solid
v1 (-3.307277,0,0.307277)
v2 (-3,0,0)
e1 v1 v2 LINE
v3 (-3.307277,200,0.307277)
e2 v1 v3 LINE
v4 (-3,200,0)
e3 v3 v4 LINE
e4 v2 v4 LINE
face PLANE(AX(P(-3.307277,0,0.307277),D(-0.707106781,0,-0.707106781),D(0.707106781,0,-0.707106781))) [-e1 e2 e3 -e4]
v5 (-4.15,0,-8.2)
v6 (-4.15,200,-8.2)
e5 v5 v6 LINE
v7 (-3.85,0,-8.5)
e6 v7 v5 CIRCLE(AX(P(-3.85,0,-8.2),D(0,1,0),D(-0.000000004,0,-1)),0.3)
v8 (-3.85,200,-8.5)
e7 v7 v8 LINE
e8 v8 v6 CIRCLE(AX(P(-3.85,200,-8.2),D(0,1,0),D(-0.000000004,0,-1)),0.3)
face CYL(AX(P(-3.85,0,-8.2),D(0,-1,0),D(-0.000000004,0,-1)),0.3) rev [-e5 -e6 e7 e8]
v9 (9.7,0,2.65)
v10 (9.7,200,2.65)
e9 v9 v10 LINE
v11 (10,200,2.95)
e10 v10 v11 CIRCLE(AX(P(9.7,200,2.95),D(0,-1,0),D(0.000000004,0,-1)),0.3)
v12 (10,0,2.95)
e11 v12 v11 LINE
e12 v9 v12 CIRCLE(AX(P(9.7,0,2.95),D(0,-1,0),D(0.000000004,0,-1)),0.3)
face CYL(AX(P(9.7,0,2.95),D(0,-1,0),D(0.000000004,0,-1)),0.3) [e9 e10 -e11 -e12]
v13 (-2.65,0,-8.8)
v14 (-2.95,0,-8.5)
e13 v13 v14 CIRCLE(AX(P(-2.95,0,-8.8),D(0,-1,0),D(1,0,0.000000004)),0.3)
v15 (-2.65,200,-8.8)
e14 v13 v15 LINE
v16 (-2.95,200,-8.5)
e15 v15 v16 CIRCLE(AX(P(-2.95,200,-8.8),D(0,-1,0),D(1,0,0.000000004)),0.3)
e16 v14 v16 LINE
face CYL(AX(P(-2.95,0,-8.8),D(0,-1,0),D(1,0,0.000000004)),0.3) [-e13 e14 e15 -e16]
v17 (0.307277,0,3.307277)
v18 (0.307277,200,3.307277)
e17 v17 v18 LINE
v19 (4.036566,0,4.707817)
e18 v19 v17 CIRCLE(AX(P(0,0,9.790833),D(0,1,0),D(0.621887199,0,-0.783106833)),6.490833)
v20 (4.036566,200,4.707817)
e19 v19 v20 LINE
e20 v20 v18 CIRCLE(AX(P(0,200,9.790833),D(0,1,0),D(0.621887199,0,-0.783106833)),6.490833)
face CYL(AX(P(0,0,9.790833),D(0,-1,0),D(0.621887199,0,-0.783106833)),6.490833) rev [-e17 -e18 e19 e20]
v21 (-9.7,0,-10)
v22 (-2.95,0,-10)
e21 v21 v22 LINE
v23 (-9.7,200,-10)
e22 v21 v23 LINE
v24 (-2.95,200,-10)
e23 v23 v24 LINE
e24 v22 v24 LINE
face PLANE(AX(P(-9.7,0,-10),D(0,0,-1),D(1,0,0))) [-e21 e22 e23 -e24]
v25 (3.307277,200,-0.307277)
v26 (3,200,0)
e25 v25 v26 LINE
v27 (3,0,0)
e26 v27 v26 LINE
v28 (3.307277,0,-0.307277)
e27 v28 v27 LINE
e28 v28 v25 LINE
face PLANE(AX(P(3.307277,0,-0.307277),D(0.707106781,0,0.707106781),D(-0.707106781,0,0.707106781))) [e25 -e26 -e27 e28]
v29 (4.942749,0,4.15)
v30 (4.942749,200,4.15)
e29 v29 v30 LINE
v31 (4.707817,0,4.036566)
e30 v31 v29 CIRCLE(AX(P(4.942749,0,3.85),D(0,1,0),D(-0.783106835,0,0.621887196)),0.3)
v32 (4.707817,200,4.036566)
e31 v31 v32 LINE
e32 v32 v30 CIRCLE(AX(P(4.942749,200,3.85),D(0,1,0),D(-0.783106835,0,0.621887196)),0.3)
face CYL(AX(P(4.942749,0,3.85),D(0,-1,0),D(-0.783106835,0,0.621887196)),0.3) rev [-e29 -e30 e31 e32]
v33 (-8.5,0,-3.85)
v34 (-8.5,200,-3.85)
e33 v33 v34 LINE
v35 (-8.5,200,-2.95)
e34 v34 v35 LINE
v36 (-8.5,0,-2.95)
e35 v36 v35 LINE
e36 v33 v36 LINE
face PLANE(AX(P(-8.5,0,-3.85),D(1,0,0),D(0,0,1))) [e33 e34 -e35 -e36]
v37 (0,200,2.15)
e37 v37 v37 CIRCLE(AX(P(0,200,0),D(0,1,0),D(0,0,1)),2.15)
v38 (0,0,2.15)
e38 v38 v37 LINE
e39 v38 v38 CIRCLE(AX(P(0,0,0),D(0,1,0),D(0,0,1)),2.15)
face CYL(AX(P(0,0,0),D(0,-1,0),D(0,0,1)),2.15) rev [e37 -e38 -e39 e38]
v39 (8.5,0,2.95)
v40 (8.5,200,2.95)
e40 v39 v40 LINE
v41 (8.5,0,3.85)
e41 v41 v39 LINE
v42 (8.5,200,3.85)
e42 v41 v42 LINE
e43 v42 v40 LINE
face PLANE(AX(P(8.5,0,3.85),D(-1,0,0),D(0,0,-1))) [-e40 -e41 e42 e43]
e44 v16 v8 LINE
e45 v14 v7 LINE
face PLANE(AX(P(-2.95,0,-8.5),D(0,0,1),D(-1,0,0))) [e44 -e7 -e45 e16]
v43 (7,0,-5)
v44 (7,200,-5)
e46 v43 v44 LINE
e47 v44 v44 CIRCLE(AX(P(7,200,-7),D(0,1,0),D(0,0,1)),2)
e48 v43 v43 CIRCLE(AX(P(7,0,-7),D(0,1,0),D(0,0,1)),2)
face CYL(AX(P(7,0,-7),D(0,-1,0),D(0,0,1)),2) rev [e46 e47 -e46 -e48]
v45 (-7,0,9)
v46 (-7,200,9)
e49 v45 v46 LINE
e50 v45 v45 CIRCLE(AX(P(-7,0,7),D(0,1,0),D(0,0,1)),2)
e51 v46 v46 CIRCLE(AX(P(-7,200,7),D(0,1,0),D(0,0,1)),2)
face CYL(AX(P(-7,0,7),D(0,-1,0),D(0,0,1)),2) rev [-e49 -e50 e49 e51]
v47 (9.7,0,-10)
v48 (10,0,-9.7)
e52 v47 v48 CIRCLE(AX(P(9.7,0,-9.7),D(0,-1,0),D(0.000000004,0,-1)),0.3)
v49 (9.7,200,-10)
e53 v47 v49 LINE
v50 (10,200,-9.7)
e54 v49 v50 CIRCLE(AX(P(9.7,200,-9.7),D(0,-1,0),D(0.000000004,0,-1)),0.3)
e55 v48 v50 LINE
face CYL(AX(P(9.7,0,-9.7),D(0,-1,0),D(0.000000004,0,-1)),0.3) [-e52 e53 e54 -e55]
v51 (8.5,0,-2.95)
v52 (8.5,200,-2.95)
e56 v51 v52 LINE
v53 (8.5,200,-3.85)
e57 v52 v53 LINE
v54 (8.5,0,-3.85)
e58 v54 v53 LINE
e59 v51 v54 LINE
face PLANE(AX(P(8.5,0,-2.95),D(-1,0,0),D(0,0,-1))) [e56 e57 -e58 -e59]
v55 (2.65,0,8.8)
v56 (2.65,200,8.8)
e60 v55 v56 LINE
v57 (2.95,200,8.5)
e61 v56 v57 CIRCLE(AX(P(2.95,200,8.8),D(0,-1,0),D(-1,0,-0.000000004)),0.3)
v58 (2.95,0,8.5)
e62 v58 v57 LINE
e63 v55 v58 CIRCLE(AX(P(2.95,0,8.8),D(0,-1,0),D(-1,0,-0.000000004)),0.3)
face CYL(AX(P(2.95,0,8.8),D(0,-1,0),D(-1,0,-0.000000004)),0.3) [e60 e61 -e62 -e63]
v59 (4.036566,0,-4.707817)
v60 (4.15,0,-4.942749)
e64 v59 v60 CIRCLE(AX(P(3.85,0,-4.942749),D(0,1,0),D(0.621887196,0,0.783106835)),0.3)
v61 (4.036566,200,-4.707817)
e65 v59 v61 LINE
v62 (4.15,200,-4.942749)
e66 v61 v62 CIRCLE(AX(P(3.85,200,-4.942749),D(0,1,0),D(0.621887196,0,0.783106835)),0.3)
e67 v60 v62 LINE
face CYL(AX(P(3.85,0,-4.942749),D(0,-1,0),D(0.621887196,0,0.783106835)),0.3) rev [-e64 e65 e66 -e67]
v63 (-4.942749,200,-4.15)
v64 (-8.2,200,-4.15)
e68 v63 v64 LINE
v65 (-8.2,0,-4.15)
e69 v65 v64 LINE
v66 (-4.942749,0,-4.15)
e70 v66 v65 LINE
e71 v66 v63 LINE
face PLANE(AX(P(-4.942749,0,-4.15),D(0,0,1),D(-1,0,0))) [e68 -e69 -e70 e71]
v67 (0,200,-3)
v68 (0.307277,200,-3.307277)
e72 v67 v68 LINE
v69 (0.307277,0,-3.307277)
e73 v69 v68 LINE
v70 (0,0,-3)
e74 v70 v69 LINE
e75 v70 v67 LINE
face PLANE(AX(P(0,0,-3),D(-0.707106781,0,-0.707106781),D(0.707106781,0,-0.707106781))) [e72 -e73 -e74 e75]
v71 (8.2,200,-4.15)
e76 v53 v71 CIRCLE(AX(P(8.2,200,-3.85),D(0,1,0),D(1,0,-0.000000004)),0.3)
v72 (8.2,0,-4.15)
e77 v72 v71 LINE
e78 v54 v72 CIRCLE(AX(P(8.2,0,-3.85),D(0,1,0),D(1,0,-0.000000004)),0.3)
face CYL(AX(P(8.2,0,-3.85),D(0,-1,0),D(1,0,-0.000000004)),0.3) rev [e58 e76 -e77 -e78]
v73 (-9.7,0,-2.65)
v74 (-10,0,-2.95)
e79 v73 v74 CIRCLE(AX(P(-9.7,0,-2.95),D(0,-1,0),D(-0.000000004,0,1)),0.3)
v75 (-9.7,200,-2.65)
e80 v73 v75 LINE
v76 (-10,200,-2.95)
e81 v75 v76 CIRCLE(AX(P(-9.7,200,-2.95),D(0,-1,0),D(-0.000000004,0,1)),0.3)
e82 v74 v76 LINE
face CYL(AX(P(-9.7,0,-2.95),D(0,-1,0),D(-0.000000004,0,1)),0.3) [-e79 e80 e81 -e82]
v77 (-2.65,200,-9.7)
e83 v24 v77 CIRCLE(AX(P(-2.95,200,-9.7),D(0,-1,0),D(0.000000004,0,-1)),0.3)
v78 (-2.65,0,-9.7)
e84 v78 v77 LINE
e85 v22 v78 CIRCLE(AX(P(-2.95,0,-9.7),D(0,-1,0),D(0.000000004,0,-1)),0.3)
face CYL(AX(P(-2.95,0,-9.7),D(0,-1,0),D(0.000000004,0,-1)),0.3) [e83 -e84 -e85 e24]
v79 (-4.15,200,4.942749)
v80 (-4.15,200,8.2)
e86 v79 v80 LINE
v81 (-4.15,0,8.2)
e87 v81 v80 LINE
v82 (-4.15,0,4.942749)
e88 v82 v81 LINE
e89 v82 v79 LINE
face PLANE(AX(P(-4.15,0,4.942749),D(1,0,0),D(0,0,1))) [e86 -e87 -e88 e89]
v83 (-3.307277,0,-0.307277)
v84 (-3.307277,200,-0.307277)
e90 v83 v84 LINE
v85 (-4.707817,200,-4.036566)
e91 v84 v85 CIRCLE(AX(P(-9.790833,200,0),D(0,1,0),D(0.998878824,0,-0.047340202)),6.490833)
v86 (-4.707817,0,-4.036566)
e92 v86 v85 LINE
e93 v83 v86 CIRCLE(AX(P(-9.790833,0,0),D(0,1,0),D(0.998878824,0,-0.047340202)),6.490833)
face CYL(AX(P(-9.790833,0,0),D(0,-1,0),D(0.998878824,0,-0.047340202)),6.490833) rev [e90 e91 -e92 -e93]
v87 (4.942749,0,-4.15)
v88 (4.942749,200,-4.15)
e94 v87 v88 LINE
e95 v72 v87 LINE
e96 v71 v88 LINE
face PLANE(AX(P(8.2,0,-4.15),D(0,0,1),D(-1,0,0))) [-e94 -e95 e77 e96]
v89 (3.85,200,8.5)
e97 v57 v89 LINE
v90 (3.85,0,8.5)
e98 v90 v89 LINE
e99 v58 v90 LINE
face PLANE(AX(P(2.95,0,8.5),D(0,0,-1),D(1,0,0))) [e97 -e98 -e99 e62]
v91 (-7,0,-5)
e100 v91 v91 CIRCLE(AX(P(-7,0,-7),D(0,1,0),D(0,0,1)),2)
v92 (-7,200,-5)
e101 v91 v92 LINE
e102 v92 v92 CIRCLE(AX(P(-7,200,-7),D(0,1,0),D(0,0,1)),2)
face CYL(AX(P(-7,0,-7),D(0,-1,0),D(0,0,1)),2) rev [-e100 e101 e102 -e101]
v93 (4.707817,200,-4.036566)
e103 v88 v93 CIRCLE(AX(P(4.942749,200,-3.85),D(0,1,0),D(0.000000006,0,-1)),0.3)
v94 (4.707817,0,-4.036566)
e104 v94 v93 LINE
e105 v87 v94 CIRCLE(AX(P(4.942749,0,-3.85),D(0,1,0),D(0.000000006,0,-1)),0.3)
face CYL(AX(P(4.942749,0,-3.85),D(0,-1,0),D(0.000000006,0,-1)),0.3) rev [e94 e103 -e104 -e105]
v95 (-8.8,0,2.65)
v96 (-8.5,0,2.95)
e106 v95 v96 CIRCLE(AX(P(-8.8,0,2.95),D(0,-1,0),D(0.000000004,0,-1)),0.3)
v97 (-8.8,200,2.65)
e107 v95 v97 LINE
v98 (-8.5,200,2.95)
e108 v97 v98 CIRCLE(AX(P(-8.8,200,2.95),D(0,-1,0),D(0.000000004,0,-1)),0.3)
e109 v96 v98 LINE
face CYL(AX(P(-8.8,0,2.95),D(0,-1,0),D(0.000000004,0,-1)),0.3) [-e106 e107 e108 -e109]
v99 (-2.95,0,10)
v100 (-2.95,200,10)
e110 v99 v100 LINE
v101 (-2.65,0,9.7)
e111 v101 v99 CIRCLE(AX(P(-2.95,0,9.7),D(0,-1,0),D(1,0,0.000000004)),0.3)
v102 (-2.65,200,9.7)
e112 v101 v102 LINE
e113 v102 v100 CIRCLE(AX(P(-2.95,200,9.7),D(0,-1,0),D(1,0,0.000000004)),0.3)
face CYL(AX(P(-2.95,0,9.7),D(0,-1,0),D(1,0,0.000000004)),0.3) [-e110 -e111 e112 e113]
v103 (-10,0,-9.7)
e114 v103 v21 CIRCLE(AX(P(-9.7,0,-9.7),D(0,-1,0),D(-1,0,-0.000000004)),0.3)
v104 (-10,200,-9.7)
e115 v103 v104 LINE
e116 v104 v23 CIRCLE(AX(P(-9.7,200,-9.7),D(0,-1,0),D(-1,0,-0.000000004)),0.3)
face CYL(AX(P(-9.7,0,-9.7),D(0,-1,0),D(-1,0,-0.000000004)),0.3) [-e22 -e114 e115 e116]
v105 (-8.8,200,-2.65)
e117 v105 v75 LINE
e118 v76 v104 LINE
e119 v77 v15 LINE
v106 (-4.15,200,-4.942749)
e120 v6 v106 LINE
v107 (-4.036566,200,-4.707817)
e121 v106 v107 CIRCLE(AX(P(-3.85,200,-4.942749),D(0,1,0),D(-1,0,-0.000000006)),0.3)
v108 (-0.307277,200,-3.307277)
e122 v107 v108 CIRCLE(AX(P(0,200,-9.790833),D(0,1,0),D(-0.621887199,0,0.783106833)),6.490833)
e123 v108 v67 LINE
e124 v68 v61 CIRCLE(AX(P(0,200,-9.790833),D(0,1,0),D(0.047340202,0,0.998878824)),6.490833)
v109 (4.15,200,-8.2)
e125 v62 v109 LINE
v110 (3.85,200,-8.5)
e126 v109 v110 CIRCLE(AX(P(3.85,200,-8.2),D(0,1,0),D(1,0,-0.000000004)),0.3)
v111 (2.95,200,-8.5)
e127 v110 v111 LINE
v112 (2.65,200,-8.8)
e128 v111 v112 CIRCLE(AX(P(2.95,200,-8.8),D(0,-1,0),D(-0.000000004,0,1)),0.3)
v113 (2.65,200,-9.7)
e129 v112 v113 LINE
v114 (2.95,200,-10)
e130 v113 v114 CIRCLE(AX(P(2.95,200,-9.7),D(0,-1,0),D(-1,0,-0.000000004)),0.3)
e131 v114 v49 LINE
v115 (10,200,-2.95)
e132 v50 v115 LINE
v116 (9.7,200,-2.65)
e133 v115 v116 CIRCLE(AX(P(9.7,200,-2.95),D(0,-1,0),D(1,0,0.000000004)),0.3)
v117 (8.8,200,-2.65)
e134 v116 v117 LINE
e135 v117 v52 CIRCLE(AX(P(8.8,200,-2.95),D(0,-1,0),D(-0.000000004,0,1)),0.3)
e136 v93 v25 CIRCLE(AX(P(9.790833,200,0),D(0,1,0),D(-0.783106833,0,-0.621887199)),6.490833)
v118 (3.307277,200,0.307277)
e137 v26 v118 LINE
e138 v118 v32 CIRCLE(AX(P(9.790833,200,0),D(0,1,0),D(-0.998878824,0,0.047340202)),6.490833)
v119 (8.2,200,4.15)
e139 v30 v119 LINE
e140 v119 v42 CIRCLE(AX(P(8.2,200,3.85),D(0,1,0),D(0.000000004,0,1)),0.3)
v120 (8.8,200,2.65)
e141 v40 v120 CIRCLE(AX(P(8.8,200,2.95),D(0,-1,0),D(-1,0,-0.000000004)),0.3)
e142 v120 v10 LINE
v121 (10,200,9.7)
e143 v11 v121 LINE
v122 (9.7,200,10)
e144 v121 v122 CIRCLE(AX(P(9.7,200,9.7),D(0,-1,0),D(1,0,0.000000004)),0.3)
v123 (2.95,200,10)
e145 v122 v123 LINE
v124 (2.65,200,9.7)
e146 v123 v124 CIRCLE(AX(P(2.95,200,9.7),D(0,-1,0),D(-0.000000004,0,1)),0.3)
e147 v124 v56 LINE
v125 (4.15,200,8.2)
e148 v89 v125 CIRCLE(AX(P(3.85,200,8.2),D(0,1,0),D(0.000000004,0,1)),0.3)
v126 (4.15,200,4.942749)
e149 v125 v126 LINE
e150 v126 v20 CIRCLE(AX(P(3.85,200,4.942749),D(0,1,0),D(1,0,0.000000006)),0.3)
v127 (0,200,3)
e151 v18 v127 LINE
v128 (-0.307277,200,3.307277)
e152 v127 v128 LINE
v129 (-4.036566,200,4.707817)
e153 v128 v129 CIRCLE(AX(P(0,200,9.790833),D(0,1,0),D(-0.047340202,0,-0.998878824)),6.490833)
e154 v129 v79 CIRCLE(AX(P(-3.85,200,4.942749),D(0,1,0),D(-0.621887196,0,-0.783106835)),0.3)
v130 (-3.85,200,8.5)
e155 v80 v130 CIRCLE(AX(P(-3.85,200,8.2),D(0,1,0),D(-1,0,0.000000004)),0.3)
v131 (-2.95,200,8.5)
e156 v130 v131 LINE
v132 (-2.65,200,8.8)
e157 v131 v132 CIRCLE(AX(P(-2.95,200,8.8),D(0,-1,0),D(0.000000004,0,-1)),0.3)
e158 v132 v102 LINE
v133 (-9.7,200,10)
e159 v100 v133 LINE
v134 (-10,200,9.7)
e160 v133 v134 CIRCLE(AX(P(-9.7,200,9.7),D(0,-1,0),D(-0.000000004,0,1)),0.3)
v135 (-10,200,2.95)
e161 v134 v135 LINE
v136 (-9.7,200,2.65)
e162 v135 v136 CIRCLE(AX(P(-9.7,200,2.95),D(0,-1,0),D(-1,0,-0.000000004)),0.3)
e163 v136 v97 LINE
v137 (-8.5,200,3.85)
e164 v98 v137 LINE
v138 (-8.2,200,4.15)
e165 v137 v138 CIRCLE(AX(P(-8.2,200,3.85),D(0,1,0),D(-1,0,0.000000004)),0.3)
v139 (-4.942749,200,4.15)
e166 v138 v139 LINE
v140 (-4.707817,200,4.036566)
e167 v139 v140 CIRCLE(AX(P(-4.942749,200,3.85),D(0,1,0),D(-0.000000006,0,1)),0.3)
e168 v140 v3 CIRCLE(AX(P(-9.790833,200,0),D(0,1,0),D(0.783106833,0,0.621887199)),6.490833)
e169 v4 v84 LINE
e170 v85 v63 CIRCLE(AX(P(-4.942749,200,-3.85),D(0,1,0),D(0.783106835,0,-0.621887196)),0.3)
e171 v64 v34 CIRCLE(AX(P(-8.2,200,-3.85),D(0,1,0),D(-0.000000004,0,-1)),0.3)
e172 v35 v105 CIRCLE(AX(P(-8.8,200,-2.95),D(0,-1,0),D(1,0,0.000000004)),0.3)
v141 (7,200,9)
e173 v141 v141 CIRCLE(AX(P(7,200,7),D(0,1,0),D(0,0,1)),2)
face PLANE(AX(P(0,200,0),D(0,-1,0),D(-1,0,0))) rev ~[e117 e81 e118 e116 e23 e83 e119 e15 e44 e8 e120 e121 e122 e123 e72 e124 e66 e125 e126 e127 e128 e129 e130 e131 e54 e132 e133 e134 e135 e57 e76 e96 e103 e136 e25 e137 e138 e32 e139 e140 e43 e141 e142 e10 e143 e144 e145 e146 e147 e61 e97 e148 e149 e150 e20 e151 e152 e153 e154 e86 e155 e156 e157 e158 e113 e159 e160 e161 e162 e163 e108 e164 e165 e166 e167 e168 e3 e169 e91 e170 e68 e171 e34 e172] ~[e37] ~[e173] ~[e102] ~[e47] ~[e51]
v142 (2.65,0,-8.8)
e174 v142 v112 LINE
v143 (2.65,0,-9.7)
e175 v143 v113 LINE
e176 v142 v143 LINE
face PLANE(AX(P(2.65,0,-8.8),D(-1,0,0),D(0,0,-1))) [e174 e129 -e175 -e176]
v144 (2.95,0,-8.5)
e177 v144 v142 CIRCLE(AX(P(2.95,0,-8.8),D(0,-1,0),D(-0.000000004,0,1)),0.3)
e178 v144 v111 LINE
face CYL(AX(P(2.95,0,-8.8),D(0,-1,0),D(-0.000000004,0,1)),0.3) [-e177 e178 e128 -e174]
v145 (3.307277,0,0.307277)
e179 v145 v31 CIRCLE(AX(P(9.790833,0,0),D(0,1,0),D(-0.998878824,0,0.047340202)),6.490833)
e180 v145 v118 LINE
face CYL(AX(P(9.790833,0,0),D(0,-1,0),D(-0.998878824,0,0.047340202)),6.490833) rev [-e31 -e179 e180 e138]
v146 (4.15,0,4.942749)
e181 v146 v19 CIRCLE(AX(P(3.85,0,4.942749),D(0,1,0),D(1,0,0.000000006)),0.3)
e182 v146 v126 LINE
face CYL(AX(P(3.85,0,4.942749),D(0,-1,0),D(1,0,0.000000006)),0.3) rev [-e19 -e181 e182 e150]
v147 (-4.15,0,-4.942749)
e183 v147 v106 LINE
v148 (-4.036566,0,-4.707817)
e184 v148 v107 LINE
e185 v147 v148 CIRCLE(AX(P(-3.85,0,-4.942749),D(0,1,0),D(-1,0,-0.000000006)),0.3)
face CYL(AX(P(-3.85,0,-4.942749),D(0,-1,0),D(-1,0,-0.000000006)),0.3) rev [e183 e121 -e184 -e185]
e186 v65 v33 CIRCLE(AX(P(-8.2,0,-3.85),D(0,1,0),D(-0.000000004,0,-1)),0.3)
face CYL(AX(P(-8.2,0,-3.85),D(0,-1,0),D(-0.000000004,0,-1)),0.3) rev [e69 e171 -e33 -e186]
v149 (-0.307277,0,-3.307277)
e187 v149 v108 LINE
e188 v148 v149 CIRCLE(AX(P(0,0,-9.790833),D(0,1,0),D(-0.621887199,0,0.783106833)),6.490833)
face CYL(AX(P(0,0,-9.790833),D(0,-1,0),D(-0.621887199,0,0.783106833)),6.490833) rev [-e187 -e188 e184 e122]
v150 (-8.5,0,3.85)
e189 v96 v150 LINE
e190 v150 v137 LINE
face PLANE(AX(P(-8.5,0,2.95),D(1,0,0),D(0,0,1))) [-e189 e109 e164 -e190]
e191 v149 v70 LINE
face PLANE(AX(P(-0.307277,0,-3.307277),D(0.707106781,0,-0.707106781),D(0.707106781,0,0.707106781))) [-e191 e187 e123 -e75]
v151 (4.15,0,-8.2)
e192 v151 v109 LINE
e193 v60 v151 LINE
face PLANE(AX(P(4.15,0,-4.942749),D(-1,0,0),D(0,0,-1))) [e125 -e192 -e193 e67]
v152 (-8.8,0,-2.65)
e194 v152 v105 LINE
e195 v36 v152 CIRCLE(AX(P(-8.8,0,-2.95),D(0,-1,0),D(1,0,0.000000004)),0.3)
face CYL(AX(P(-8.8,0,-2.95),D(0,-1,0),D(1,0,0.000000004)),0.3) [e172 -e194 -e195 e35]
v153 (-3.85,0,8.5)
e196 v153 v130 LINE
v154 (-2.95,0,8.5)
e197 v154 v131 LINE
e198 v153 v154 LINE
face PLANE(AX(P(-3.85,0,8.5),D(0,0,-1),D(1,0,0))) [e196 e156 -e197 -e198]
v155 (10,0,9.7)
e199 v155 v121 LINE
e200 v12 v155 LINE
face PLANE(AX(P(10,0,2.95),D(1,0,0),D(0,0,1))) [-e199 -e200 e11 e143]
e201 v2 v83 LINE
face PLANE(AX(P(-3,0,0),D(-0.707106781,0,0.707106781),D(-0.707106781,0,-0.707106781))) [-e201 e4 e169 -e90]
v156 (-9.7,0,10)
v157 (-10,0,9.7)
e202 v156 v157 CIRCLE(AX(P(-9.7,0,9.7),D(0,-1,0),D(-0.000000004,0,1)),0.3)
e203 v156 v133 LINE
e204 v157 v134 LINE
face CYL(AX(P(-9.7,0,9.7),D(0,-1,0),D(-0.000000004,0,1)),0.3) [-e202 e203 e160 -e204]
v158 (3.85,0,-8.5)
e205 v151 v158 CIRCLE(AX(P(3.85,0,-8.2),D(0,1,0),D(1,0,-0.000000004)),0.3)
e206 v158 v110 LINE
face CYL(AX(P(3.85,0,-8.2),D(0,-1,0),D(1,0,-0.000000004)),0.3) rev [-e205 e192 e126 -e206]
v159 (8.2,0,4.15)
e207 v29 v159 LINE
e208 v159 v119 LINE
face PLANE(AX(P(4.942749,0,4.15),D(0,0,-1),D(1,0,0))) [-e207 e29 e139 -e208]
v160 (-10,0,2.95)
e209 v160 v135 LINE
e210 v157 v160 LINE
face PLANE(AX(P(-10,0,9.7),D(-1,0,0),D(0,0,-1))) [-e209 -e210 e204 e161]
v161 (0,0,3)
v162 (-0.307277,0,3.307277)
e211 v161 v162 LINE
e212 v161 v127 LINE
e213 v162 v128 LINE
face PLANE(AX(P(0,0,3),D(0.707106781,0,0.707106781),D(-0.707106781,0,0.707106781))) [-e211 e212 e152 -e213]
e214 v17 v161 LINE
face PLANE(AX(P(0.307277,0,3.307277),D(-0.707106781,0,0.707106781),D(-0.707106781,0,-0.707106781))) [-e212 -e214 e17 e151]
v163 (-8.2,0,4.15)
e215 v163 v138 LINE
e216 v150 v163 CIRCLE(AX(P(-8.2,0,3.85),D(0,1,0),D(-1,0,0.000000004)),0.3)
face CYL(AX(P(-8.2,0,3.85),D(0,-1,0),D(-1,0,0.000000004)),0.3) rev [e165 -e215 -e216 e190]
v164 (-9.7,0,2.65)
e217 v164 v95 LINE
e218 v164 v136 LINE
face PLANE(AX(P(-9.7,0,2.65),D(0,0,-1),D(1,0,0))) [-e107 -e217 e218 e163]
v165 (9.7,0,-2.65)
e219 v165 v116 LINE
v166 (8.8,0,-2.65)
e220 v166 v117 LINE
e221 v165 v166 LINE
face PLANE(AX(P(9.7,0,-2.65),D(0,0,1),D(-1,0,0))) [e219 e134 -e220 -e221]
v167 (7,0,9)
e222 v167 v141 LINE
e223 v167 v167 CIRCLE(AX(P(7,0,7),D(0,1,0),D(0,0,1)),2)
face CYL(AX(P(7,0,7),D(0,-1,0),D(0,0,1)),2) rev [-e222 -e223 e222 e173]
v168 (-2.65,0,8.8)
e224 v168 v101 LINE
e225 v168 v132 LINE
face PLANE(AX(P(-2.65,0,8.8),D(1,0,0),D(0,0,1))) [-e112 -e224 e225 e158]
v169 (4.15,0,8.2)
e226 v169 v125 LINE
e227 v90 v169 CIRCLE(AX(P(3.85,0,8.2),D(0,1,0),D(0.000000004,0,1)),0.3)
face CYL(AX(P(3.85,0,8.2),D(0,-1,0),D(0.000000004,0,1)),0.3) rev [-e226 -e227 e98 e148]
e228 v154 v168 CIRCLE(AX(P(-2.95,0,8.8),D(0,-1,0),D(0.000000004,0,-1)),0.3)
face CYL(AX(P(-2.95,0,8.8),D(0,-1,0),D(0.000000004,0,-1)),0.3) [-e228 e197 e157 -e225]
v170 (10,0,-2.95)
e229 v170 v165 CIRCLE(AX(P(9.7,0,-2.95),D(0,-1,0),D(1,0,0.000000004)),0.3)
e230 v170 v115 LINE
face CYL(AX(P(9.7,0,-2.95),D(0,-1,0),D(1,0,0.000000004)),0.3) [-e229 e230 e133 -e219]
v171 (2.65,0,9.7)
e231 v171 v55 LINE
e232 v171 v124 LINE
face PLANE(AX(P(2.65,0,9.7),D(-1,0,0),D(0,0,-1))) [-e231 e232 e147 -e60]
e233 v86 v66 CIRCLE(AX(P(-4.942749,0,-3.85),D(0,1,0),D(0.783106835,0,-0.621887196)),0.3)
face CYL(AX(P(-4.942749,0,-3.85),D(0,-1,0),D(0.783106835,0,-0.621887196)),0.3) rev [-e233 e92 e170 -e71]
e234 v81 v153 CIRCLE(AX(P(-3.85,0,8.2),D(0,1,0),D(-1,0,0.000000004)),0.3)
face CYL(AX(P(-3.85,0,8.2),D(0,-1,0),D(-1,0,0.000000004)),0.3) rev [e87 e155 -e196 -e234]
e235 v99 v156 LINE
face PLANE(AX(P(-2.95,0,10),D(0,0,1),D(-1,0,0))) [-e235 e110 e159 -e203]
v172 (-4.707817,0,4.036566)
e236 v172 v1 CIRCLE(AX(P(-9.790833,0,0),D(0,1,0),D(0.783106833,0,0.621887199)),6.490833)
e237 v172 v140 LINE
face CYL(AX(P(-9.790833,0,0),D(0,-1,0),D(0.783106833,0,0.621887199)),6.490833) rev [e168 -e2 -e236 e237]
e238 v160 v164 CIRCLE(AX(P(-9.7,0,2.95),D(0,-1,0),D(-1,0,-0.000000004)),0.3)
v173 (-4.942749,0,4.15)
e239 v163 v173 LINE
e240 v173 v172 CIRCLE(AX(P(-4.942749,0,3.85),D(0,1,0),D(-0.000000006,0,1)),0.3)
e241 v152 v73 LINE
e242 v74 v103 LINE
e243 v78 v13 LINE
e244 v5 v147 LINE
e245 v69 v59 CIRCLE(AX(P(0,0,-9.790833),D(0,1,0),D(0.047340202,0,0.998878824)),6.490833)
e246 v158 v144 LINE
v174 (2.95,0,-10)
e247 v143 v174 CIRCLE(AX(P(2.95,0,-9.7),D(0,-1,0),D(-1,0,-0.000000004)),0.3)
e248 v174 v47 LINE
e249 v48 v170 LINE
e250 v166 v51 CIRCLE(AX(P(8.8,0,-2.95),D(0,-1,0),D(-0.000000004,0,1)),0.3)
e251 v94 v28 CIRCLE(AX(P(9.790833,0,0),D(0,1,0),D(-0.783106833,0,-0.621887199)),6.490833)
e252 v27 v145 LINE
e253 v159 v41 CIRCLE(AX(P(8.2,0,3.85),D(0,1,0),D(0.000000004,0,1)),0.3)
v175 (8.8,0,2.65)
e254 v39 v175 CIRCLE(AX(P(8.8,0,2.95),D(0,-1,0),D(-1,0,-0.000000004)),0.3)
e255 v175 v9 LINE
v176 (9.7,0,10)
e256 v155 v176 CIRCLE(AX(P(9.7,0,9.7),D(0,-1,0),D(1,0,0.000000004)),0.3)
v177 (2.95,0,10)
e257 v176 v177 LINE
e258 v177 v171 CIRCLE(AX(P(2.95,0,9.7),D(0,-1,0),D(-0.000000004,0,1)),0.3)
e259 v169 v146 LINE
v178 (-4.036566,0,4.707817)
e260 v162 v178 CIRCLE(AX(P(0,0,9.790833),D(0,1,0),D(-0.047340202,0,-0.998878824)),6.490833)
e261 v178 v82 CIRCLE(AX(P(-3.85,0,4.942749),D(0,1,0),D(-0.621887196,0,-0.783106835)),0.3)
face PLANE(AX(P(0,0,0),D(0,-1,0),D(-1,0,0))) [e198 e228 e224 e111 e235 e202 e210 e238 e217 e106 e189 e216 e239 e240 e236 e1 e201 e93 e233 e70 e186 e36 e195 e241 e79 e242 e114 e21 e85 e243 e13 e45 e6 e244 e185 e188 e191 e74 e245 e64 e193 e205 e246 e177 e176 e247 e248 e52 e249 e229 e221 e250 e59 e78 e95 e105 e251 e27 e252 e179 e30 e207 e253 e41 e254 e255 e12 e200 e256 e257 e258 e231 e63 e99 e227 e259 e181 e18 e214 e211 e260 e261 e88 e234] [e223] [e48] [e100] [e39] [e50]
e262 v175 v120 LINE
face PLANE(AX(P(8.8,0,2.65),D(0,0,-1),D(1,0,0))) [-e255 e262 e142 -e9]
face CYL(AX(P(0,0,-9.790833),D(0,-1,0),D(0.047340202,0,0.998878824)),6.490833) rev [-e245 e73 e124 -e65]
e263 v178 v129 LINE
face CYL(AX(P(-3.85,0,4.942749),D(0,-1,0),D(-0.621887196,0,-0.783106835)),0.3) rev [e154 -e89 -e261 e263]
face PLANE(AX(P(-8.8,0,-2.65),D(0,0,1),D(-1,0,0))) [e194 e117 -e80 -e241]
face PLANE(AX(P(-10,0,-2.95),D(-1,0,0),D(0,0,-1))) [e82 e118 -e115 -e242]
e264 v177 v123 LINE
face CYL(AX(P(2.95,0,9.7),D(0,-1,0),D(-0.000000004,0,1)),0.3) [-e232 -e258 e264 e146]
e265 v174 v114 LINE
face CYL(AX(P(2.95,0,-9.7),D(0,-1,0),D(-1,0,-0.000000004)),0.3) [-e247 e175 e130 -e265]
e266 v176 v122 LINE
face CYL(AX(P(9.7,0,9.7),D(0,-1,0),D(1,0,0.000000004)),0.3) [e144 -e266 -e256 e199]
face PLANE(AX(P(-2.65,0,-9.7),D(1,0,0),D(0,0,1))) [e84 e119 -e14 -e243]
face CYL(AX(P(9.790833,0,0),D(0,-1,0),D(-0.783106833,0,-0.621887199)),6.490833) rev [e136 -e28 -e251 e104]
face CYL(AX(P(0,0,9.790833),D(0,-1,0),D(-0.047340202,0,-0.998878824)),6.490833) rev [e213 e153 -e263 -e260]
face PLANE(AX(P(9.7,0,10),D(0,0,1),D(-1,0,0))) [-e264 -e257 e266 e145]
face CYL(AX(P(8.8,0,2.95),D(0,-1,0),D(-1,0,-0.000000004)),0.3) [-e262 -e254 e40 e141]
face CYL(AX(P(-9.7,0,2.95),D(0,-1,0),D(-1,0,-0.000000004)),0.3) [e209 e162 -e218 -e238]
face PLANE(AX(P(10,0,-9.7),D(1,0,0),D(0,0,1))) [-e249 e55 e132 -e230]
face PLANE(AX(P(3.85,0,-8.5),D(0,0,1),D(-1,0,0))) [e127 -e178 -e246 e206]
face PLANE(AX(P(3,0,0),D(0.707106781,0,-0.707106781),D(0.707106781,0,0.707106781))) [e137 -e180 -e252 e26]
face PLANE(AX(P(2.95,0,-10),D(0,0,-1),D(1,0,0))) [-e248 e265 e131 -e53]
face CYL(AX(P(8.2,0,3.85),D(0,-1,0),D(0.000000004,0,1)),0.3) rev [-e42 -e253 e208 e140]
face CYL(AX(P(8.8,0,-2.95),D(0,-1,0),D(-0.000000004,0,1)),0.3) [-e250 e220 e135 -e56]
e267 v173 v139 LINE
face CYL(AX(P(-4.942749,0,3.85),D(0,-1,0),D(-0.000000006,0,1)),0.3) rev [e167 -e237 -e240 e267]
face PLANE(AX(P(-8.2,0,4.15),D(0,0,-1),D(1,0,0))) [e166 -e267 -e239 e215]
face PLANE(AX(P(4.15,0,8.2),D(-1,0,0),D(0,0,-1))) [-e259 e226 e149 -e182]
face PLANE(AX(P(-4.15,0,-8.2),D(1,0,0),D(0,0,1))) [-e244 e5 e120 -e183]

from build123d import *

# Parameters (mm, degrees)
SKETCH_1_R      = 2.15
SKETCH_1_R_2    = 2
EXTRUDE_1_DEPTH = 200


with BuildPart() as part:
    # 스케치1 → 보스-돌출1 (new body)
    with BuildSketch(Plane(origin=(0, 0, 0), x_dir=(1, 0, 0), z_dir=(0, 1, 0))):
        with BuildLine():
            Line((4.15, 4.942749448), (4.15, 8.2))
            ThreePointArc((4.15, 8.2), (4.062132034, 8.412132034), (3.85, 8.5))
            Line((3.85, 8.5), (2.95, 8.5))
            ThreePointArc((2.95, 8.5), (2.737867966, 8.587867966), (2.65, 8.8))
            Line((2.65, 8.8), (2.65, 9.7))
            ThreePointArc((2.65, 9.7), (2.737867966, 9.912132034), (2.95, 10))
            Line((2.95, 10), (9.7, 10))
            ThreePointArc((9.7, 10), (9.912132034, 9.912132034), (10, 9.7))
            Line((10, 9.7), (10, 2.95))
            ThreePointArc((10, 2.95), (9.912132034, 2.737867966), (9.7, 2.65))
            Line((9.7, 2.65), (8.8, 2.65))
            ThreePointArc((8.8, 2.65), (8.587867966, 2.737867966), (8.5, 2.95))
            Line((8.5, 2.95), (8.5, 3.85))
            ThreePointArc((8.5, 3.85), (8.412132034, 4.062132034), (8.2, 4.15))
            Line((8.2, 4.15), (4.942749448, 4.15))
            ThreePointArc((4.942749448, 4.15), (4.812307598, 4.120157221), (4.707817398, 4.03656616))
            ThreePointArc((4.707817398, 4.03656616), (3.714379176, 2.282021525), (3.307277366, 0.307277366))
            Line((3.307277366, 0.307277366), (3, 0))
            Line((3, 0), (3.307277366, -0.307277366))
            ThreePointArc((3.307277366, -0.307277366), (3.714379176, -2.282021525), (4.707817398, -4.03656616))
            ThreePointArc((4.707817398, -4.03656616), (4.812307598, -4.120157221), (4.942749448, -4.15))
            Line((4.942749448, -4.15), (8.2, -4.15))
            ThreePointArc((8.2, -4.15), (8.412132034, -4.062132034), (8.5, -3.85))
            Line((8.5, -3.85), (8.5, -2.95))
            ThreePointArc((8.5, -2.95), (8.587867966, -2.737867966), (8.8, -2.65))
            Line((8.8, -2.65), (9.7, -2.65))
            ThreePointArc((9.7, -2.65), (9.912132034, -2.737867966), (10, -2.95))
            Line((10, -2.95), (10, -9.7))
            ThreePointArc((10, -9.7), (9.912132034, -9.912132034), (9.7, -10))
            Line((9.7, -10), (2.95, -10))
            ThreePointArc((2.95, -10), (2.737867966, -9.912132034), (2.65, -9.7))
            Line((2.65, -9.7), (2.65, -8.8))
            ThreePointArc((2.65, -8.8), (2.737867966, -8.587867966), (2.95, -8.5))
            Line((2.95, -8.5), (3.85, -8.5))
            ThreePointArc((3.85, -8.5), (4.062132034, -8.412132034), (4.15, -8.2))
            Line((4.15, -8.2), (4.15, -4.942749448))
            ThreePointArc((4.15, -4.942749448), (4.120157221, -4.812307598), (4.03656616, -4.707817398))
            ThreePointArc((4.03656616, -4.707817398), (2.282021525, -3.714379176), (0.307277366, -3.307277366))
            Line((0.307277366, -3.307277366), (0, -3))
            Line((0, -3), (-0.307277366, -3.307277366))
            ThreePointArc((-0.307277366, -3.307277366), (-2.282021525, -3.714379176), (-4.03656616, -4.707817398))
            ThreePointArc((-4.03656616, -4.707817398), (-4.120157221, -4.812307598), (-4.15, -4.942749448))
            Line((-4.15, -4.942749448), (-4.15, -8.2))
            ThreePointArc((-4.15, -8.2), (-4.062132034, -8.412132034), (-3.85, -8.5))
            Line((-3.85, -8.5), (-2.95, -8.5))
            ThreePointArc((-2.95, -8.5), (-2.737867966, -8.587867966), (-2.65, -8.8))
            Line((-2.65, -8.8), (-2.65, -9.7))
            ThreePointArc((-2.65, -9.7), (-2.737867966, -9.912132034), (-2.95, -10))
            Line((-2.95, -10), (-9.7, -10))
            ThreePointArc((-9.7, -10), (-9.912132034, -9.912132034), (-10, -9.7))
            Line((-10, -9.7), (-10, -2.95))
            ThreePointArc((-10, -2.95), (-9.912132034, -2.737867966), (-9.7, -2.65))
            Line((-9.7, -2.65), (-8.8, -2.65))
            ThreePointArc((-8.8, -2.65), (-8.587867966, -2.737867966), (-8.5, -2.95))
            Line((-8.5, -2.95), (-8.5, -3.85))
            ThreePointArc((-8.5, -3.85), (-8.412132034, -4.062132034), (-8.2, -4.15))
            Line((-8.2, -4.15), (-4.942749448, -4.15))
            ThreePointArc((-4.942749448, -4.15), (-4.812307598, -4.120157221), (-4.707817398, -4.03656616))
            ThreePointArc((-4.707817398, -4.03656616), (-3.714379176, -2.282021525), (-3.307277366, -0.307277366))
            Line((-3.307277366, -0.307277366), (-3, 0))
            Line((-3, 0), (-3.307277366, 0.307277366))
            ThreePointArc((-3.307277366, 0.307277366), (-3.714379176, 2.282021525), (-4.707817398, 4.03656616))
            ThreePointArc((-4.707817398, 4.03656616), (-4.812307598, 4.120157221), (-4.942749448, 4.15))
            Line((-4.942749448, 4.15), (-8.2, 4.15))
            ThreePointArc((-8.2, 4.15), (-8.412132034, 4.062132034), (-8.5, 3.85))
            Line((-8.5, 3.85), (-8.5, 2.95))
            ThreePointArc((-8.5, 2.95), (-8.587867966, 2.737867966), (-8.8, 2.65))
            Line((-8.8, 2.65), (-9.7, 2.65))
            ThreePointArc((-9.7, 2.65), (-9.912132034, 2.737867966), (-10, 2.95))
            Line((-10, 2.95), (-10, 9.7))
            ThreePointArc((-10, 9.7), (-9.912132034, 9.912132034), (-9.7, 10))
            Line((-9.7, 10), (-2.95, 10))
            ThreePointArc((-2.95, 10), (-2.737867966, 9.912132034), (-2.65, 9.7))
            Line((-2.65, 9.7), (-2.65, 8.8))
            ThreePointArc((-2.65, 8.8), (-2.737867966, 8.587867966), (-2.95, 8.5))
            Line((-2.95, 8.5), (-3.85, 8.5))
            ThreePointArc((-3.85, 8.5), (-4.062132034, 8.412132034), (-4.15, 8.2))
            Line((-4.15, 8.2), (-4.15, 4.942749448))
            ThreePointArc((-4.15, 4.942749448), (-4.120157221, 4.812307598), (-4.03656616, 4.707817398))
            ThreePointArc((-4.03656616, 4.707817398), (-2.282021525, 3.714379176), (-0.307277366, 3.307277366))
            Line((-0.307277366, 3.307277366), (0, 3))
            Line((0, 3), (0.307277366, 3.307277366))
            ThreePointArc((0.307277366, 3.307277366), (2.282021525, 3.714379176), (4.03656616, 4.707817398))
            ThreePointArc((4.03656616, 4.707817398), (4.120157221, 4.812307598), (4.15, 4.942749448))
        make_face()
        with Locations(Location((0, 0, 0), (0, 0, 270))):
            Circle(SKETCH_1_R, mode=Mode.SUBTRACT)
        with Locations(Location((-7, 7, 0), (0, 0, 270))):
            Circle(SKETCH_1_R_2, mode=Mode.SUBTRACT)
        with Locations(Location((-7, -7, 0), (0, 0, 270))):
            Circle(SKETCH_1_R_2, mode=Mode.SUBTRACT)
        with Locations(Location((7, 7, 0), (0, 0, 270))):
            Circle(SKETCH_1_R_2, mode=Mode.SUBTRACT)
        with Locations(Location((7, -7, 0), (0, 0, 270))):
            Circle(SKETCH_1_R_2, mode=Mode.SUBTRACT)
    extrude(amount=EXTRUDE_1_DEPTH)


solid = part.part
